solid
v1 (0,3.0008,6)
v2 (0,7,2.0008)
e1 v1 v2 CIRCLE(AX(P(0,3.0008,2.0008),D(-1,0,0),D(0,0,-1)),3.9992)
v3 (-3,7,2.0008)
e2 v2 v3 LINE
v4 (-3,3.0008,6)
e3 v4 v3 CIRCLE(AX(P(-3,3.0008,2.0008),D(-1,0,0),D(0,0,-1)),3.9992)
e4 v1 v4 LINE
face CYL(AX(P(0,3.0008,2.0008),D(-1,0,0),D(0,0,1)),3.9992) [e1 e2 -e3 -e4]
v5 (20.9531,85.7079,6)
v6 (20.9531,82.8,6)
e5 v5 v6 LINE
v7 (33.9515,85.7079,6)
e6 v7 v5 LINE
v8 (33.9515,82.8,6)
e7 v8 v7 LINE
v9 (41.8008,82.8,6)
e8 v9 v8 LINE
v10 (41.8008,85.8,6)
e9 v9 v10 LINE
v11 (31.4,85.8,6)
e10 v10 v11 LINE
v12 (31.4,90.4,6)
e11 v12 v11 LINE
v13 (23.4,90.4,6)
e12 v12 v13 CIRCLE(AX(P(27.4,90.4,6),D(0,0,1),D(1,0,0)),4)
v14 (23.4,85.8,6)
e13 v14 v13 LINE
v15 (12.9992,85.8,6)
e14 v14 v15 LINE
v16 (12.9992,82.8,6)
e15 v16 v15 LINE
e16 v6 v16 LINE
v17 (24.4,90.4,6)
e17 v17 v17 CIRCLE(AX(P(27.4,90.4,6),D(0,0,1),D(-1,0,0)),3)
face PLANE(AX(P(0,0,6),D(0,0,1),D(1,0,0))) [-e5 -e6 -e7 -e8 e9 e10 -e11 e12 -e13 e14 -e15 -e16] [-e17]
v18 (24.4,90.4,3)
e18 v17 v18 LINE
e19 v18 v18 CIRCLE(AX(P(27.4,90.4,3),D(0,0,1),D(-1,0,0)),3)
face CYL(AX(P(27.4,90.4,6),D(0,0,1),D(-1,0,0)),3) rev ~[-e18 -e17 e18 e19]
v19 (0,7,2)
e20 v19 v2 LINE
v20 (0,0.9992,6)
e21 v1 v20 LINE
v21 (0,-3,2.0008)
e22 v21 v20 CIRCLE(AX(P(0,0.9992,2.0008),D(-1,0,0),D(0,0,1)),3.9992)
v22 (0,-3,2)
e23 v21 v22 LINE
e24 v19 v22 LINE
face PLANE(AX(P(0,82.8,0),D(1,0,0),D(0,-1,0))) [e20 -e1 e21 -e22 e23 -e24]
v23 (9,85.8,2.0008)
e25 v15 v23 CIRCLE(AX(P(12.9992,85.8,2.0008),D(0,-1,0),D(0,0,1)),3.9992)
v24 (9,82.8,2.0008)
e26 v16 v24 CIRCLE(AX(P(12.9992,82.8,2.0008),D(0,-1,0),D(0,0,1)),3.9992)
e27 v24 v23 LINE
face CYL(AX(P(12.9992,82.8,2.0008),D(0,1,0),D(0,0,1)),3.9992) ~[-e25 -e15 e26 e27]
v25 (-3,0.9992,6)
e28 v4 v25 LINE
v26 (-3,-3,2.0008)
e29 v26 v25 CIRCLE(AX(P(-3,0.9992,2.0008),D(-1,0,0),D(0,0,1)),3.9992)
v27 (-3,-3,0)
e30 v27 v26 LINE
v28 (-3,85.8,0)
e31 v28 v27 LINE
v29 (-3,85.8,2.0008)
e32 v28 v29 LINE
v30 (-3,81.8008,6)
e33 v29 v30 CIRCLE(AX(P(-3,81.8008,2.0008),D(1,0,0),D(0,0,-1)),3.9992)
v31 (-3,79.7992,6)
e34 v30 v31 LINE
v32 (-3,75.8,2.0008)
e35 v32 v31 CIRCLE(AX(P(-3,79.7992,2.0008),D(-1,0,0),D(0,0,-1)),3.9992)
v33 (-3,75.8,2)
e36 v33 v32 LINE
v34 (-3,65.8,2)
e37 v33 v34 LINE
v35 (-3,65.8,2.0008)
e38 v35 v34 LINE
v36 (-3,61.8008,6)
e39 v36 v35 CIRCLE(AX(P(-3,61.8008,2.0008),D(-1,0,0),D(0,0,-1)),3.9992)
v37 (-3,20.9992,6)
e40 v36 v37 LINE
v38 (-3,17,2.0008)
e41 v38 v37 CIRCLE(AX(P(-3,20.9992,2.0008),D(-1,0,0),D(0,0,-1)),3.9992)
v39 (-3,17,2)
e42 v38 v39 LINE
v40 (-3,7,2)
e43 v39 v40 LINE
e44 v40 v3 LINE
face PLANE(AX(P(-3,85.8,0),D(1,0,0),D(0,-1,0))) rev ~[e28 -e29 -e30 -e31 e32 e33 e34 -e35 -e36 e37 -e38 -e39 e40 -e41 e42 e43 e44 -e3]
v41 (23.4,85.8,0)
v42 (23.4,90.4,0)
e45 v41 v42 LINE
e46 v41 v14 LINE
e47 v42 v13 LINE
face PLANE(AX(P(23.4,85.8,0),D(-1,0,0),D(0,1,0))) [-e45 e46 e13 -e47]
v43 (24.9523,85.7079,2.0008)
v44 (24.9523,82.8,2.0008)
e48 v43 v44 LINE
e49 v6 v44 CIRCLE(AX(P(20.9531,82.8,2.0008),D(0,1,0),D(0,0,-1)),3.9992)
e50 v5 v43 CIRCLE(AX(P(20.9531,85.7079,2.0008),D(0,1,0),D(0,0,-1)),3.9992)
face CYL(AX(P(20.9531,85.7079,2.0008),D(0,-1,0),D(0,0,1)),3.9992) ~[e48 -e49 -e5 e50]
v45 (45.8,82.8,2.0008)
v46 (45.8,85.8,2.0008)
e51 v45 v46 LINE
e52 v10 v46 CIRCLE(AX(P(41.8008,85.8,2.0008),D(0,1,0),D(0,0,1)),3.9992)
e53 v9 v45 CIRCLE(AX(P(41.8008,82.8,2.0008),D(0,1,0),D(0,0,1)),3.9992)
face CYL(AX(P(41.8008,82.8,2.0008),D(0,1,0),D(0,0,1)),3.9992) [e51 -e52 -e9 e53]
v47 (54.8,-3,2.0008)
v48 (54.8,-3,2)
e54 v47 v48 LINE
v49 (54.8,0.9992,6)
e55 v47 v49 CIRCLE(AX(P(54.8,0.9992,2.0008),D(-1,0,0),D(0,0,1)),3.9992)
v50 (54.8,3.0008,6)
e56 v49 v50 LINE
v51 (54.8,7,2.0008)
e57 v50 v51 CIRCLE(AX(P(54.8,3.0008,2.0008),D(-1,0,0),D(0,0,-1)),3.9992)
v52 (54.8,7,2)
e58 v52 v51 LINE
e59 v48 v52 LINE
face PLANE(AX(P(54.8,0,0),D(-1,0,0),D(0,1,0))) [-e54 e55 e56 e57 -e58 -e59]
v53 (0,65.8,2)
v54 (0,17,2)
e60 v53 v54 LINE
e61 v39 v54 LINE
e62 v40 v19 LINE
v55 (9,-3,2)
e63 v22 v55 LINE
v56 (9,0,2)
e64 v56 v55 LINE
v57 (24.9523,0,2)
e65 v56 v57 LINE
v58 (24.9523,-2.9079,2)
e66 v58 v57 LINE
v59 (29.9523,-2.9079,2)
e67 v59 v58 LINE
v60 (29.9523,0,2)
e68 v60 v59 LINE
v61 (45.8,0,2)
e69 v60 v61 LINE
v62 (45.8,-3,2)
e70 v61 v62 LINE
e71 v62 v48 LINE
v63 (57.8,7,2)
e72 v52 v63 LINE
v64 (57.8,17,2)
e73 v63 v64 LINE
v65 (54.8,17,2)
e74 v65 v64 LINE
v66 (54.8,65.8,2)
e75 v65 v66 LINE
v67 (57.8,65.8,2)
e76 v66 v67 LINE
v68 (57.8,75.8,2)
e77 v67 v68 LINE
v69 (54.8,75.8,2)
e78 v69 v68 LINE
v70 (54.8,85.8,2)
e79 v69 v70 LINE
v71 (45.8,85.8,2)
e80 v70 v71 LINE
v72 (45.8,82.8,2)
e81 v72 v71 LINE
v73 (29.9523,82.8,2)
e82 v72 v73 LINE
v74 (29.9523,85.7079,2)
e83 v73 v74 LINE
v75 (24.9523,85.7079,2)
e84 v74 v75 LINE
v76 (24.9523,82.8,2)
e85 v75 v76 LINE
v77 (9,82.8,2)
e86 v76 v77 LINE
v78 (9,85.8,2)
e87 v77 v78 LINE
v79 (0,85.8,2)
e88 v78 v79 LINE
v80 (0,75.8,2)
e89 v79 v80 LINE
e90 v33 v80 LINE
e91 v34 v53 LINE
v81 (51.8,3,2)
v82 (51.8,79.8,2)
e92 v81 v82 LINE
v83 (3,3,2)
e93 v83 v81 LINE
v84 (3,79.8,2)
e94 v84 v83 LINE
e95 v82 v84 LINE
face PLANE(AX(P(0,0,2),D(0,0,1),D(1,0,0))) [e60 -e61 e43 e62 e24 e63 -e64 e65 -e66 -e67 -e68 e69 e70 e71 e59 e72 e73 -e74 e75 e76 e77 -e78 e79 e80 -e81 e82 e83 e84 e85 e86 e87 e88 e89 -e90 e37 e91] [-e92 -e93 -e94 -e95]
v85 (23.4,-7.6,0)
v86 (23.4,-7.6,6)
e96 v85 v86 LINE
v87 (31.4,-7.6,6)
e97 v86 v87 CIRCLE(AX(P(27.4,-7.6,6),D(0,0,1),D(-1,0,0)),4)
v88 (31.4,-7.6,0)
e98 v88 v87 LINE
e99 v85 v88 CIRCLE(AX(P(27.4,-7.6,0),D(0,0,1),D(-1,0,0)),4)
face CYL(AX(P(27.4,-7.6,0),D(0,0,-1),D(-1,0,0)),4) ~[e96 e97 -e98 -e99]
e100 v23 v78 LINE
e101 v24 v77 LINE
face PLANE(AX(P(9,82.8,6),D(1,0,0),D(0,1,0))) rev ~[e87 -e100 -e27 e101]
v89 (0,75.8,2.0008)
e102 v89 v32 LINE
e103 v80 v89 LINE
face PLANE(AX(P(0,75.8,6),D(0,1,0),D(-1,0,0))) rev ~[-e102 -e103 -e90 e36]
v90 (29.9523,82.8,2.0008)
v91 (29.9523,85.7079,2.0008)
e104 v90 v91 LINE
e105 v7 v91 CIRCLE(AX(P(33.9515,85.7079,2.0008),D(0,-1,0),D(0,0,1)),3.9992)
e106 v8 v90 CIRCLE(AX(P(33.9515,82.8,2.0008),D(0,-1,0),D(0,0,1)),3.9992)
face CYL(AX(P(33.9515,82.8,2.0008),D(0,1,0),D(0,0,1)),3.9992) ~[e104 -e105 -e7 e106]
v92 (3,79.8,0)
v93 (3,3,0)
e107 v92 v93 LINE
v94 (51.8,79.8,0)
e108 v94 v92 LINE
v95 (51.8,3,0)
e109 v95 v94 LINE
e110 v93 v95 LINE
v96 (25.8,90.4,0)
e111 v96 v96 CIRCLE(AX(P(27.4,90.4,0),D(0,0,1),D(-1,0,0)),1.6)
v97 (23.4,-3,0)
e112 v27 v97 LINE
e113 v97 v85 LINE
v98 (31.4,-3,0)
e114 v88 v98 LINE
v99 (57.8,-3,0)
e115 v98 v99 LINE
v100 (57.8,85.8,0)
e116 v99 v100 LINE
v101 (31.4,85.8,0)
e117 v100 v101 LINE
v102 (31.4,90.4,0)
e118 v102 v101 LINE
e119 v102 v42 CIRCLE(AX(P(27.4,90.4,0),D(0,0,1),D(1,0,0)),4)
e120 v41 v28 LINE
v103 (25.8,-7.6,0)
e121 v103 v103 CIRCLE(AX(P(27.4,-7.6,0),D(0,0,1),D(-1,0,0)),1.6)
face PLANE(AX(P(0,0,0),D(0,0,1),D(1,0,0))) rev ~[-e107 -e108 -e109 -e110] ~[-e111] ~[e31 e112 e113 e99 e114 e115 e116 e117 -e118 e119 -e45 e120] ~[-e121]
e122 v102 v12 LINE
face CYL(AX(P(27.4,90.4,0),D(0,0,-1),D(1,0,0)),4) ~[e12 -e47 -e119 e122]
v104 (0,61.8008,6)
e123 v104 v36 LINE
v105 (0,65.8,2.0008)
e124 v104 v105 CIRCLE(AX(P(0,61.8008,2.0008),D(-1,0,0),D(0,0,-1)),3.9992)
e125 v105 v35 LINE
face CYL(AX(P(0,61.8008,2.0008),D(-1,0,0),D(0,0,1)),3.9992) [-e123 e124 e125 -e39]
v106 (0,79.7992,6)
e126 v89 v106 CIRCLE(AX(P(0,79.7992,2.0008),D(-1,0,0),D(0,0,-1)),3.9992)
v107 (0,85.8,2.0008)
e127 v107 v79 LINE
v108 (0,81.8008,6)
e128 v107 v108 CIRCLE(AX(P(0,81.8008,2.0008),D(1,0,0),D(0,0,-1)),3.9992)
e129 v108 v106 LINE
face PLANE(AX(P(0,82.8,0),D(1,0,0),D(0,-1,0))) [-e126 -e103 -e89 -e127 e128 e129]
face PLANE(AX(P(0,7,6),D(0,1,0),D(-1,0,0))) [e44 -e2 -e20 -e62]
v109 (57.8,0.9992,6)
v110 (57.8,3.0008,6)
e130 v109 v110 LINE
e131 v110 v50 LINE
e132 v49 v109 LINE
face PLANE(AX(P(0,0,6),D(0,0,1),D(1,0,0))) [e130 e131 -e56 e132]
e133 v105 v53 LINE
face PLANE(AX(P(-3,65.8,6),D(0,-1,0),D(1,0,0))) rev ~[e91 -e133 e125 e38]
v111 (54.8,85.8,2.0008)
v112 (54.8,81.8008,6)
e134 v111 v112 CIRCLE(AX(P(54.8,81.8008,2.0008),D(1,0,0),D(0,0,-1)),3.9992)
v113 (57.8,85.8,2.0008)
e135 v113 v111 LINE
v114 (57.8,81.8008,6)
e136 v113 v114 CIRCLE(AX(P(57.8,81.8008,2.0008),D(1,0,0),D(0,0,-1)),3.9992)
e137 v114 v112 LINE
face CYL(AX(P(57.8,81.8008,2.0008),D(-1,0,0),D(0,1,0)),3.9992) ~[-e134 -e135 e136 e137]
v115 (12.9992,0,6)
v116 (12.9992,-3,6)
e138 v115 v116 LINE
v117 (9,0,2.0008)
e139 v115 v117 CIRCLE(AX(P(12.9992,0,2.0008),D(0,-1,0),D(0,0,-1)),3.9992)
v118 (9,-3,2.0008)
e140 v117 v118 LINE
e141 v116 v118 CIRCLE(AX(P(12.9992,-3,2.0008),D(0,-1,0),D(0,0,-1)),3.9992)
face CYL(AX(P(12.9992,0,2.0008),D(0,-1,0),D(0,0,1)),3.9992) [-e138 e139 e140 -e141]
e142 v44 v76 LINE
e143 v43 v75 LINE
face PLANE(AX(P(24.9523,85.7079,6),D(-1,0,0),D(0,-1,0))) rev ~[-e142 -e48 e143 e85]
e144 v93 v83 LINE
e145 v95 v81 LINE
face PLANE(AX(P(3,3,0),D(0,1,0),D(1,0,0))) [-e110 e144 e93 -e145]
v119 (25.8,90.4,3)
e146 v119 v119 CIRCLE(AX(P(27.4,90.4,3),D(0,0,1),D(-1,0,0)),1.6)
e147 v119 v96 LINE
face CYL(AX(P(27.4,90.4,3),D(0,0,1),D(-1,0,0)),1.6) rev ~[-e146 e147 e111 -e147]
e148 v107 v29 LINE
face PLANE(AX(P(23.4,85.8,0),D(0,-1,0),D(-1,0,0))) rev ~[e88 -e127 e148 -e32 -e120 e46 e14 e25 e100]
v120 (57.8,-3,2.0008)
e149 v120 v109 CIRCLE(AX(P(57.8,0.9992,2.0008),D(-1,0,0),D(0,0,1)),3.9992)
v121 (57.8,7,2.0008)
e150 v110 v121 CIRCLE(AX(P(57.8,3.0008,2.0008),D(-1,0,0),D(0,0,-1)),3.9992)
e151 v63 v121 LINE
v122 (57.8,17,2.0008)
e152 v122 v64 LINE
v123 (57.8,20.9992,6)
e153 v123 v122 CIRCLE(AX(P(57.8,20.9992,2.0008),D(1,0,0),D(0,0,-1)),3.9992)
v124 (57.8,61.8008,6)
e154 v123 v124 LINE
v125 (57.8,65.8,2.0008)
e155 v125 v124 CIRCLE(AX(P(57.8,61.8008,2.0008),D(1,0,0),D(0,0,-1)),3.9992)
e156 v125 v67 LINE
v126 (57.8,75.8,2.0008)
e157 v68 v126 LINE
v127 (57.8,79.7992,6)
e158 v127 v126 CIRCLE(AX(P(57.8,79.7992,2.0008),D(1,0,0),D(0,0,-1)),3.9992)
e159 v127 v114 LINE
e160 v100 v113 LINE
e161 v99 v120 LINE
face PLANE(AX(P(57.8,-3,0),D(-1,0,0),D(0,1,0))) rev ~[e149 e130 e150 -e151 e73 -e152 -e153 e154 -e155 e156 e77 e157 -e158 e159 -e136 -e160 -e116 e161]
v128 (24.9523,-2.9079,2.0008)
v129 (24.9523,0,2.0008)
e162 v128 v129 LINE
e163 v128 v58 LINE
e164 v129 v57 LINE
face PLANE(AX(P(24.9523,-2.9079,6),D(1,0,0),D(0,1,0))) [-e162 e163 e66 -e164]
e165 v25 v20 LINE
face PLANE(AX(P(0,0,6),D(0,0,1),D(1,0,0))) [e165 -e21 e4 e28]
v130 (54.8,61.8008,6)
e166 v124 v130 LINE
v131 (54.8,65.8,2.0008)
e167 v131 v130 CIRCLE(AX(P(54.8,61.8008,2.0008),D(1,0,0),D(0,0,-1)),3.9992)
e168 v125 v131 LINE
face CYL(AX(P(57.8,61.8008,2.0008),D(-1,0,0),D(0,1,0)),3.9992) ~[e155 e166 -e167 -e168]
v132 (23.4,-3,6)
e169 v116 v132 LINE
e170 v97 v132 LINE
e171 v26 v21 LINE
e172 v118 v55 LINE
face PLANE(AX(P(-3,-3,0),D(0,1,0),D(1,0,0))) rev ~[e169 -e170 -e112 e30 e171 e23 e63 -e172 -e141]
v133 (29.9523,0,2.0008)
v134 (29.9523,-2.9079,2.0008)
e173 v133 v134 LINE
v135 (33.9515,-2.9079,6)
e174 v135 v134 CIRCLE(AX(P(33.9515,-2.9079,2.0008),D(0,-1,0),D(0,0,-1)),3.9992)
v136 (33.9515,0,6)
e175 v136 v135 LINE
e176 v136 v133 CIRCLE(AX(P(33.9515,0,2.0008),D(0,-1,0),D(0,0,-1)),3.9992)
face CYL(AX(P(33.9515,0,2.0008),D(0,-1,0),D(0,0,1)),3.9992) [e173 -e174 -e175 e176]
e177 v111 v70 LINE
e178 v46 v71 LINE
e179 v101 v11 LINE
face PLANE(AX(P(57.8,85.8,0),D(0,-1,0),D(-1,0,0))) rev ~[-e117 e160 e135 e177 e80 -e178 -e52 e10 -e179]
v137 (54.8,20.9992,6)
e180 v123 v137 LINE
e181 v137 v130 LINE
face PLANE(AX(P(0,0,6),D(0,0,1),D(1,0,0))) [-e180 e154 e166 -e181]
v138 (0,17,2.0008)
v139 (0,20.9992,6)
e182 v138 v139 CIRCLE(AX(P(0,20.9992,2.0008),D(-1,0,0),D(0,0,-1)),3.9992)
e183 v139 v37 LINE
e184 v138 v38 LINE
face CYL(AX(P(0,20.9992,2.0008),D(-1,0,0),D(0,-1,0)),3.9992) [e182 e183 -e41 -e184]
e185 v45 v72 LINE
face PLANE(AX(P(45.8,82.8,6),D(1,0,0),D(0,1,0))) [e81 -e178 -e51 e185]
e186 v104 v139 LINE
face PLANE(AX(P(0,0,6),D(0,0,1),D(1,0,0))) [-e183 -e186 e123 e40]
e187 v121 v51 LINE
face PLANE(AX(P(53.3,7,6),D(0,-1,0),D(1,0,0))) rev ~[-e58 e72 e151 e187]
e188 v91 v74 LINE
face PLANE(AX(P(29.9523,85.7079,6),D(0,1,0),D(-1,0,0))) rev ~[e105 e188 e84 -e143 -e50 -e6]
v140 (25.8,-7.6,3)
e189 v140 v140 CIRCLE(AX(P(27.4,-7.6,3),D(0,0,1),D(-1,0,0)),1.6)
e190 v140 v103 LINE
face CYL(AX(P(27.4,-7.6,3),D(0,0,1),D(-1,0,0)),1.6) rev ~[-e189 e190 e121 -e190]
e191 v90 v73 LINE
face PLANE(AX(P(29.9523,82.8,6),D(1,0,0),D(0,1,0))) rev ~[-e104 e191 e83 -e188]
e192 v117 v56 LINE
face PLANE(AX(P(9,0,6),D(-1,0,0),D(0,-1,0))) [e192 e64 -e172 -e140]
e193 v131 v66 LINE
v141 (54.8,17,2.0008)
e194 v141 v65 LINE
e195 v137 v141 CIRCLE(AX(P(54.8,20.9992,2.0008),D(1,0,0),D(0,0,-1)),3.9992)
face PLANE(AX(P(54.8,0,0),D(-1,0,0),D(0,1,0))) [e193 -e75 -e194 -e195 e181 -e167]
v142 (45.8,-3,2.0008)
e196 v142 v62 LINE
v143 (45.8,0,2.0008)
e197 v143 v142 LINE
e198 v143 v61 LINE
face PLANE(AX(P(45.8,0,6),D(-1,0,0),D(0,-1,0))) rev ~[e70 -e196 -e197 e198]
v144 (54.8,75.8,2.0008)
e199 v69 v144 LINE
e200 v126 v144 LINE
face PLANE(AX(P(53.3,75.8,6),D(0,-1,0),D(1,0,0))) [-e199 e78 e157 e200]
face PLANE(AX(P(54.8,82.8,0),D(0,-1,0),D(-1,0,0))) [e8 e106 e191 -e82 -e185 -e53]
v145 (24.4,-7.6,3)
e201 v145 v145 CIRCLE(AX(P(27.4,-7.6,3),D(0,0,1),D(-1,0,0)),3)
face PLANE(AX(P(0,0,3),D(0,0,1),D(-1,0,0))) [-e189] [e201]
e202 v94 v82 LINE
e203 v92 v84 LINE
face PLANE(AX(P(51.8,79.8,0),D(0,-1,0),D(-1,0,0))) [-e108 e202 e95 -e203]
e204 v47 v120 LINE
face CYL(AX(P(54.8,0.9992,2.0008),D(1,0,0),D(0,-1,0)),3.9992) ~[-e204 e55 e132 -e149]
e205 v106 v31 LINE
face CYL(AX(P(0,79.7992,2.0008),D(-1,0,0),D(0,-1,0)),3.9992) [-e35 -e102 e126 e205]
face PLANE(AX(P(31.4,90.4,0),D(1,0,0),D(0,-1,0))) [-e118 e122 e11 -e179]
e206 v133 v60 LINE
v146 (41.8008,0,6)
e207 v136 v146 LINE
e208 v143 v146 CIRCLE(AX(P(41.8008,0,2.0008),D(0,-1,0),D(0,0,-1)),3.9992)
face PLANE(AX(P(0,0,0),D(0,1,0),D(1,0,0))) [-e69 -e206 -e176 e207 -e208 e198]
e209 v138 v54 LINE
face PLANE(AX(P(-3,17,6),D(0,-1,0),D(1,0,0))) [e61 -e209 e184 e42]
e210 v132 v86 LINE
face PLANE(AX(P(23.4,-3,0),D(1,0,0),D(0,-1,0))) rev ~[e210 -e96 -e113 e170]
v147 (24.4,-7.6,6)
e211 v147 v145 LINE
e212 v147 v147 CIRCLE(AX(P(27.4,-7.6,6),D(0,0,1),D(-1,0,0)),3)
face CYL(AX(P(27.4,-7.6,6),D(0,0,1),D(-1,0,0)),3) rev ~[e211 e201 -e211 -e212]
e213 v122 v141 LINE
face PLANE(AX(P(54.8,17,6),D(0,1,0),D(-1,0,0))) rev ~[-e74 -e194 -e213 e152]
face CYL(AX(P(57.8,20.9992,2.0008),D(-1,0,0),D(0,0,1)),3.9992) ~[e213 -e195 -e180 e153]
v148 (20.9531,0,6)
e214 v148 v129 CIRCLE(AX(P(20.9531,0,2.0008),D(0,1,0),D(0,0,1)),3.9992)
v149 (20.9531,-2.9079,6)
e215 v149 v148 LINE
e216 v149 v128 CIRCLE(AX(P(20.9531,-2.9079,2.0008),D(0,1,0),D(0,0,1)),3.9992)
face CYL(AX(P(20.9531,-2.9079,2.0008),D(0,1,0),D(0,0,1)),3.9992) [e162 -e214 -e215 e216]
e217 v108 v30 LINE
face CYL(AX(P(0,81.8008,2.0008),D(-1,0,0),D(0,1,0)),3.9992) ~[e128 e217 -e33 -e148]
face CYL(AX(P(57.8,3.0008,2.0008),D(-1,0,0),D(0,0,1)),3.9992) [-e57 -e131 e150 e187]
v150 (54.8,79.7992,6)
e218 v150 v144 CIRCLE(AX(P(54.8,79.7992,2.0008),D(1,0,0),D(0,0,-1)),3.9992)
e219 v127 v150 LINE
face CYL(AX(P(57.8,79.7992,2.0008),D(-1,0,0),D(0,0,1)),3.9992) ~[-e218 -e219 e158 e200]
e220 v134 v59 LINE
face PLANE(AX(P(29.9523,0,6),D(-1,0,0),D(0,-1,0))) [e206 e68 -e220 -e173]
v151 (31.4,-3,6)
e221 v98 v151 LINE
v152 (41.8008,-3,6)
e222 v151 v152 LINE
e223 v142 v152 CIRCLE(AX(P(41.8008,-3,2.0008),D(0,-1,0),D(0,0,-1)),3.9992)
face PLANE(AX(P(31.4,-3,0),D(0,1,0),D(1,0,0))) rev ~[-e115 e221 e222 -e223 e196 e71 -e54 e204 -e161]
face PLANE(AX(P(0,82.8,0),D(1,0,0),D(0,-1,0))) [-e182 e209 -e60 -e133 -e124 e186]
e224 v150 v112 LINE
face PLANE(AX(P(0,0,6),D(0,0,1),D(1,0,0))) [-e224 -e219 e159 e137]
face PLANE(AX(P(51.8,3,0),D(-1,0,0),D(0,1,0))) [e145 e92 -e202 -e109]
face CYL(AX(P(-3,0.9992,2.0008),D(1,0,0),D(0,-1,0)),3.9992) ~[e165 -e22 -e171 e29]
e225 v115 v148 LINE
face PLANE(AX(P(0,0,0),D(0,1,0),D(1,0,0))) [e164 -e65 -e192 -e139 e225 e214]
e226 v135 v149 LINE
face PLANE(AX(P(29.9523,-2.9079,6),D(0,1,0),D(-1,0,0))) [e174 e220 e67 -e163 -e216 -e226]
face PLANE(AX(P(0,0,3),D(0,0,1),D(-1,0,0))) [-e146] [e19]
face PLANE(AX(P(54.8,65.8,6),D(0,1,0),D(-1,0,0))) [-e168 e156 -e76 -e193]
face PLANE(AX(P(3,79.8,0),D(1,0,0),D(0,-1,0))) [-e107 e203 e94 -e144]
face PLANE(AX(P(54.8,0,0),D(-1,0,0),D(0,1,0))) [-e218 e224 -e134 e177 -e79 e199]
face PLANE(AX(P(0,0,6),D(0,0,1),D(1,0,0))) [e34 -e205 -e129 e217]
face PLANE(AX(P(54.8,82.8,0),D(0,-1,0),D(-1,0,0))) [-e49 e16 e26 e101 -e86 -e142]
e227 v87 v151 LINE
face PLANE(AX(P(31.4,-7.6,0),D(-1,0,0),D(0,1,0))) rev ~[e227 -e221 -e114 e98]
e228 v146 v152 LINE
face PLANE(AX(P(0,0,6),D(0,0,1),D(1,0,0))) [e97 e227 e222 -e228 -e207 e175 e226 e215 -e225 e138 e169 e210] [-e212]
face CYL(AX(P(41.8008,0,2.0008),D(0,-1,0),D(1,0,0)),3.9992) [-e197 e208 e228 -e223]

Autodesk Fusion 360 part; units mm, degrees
sketch "Sketch4" plane through (0, 0, 0) normal (0, 0, 1) x (1, 0, 0)
  line L0 (0, 0) -> (54.8, 0)
  line L1 (54.8, 0) -> (54.8, 82.8)
  line L2 (54.8, 82.8) -> (0, 82.8)
  line L3 (0, 82.8) -> (0, 0)
  line L4 (57.8, -3) -> (57.8, 85.8)
  line L5 (-3, 85.8) -> (-3, -3)
  line L6 (0, 41.4) -> (54.8, 41.4) construction
  line L7 (27.4, 0) -> (27.4, 1.8094) construction
  line L8 (27.4, 1.8094) -> (27.4, 82.8) construction
  line L9 (23.4, 85.8) -> (23.4, 90.4)
  line L10 (31.4, 90.4) -> (31.4, 85.8)
  line L11 (23.4, -3) -> (23.4, -7.6)
  line L12 (31.4, -7.6) -> (31.4, -3)
  arc A0 (31.4, 90.4) -> (23.4, 90.4) centre (27.4, 90.4) ccw
  arc A1 (23.4, -7.6) -> (31.4, -7.6) centre (27.4, -7.6) ccw
  line L13 (-3, -3) -> (23.4, -3)
  line L14 (31.4, -3) -> (57.8, -3)
  line L15 (57.8, 85.8) -> (31.4, 85.8)
  line L16 (23.4, 85.8) -> (-3, 85.8)
  line L17 (3, 3) -> (51.8, 3)
  line L18 (51.8, 3) -> (51.8, 79.8)
  line L19 (51.8, 79.8) -> (3, 79.8)
  line L20 (3, 79.8) -> (3, 3)
  point P0 (27.4, 90.4)
  point P1 (27.4, -7.6)
  dimension "d22" = 54.8
  dimension "d23" = 82.8
  dimension "d25" = 8
  dimension "d26" = 49
  dimension "d27" = 49
  dimension "d30" = -3
extrude "Extrude5" add sketch "Sketch4" along normal blind 2 contours L0 L1 L2 L3
extrude "Extrude6" add sketch "Sketch4" along normal blind 6 contours L4 L5 L9 L10 L11 L12 A0 A1 L13 L14 L15 L16
sketch "Sketch5" plane through (0, 0, 6) normal (0, 0, 1) x (-1, 0, 0)
  line L0 (0, 0) -> (0, -82.8)
  line L1 (0, -82.8) -> (-54.8, -82.8)
  line L2 (-54.8, -82.8) -> (-54.8, 0)
  line L3 (-54.8, 0) -> (0, 0)
  arc A0 (-31.4, -90.4) -> (-23.4, -90.4) centre (-27.4, -90.4) ccw
  line L4 (-23.4, -90.4) -> (-23.4, -85.8)
  line L5 (-23.4, -85.8) -> (3, -85.8)
  line L6 (3, -85.8) -> (3, 3)
  line L7 (3, 3) -> (-23.4, 3)
  line L8 (-23.4, 3) -> (-23.4, 7.6)
  arc A1 (-23.4, 7.6) -> (-31.4, 7.6) centre (-27.4, 7.6) ccw
  line L9 (-31.4, 7.6) -> (-31.4, 3)
  line L10 (-31.4, 3) -> (-57.8, 3)
  line L11 (-57.8, 3) -> (-57.8, -85.8)
  line L12 (-57.8, -85.8) -> (-31.4, -85.8)
  line L13 (-31.4, -85.8) -> (-31.4, -90.4)
  circle A2 centre (-27.4, -90.4) radius 3
  circle A3 centre (-27.4, 7.6) radius 3
  dimension "d35" = 6
extrude "Extrude7" cut sketch "Sketch5" against normal blind 3 contours A2 | A3
sketch "Sketch6" plane through (0, 0, 3) normal (0, 0, 1) x (-1, 0, 0)
  circle A0 centre (-27.4, -90.4) radius 3
  circle A1 centre (-27.4, -90.4) radius 1.6
  circle A2 centre (-27.4, 7.6) radius 1.6
  dimension "d38" = 3.2
  dimension "d39" = 3.2
extrude "Extrude8" cut sketch "Sketch6" against normal blind 4 contours A1 | A2
sketch "Sketch7" plane through (0, 0, 6) normal (0, 0, 1) x (-1, 0, 0)
  circle A0 centre (-27.4, -90.4) radius 3
  circle A1 centre (-27.4, 7.6) radius 3
  line L0 (0, 0) -> (0, -82.8)
  line L1 (0, -82.8) -> (-54.8, -82.8)
  line L2 (-54.8, -82.8) -> (-54.8, 0)
  line L3 (-54.8, 0) -> (0, 0)
  arc A2 (-31.4, -90.4) -> (-23.4, -90.4) centre (-27.4, -90.4) ccw
  line L4 (-23.4, -90.4) -> (-23.4, -85.8)
  line L5 (-23.4, -85.8) -> (3, -85.8)
  line L6 (3, -85.8) -> (3, 3)
  line L7 (3, 3) -> (-23.4, 3)
  line L8 (-23.4, 3) -> (-23.4, 7.6)
  arc A3 (-23.4, 7.6) -> (-31.4, 7.6) centre (-27.4, 7.6) ccw
  line L9 (-31.4, 7.6) -> (-31.4, 3)
  line L10 (-31.4, 3) -> (-57.8, 3)
  line L11 (-57.8, 3) -> (-57.8, -85.8)
  line L12 (-57.8, -85.8) -> (-31.4, -85.8)
  line L13 (-31.4, -85.8) -> (-31.4, -90.4)
  line L14 (4.5, -17) -> (-1.5, -17)
  line L15 (-1.5, -17) -> (-1.5, -7)
  line L16 (-1.5, -7) -> (4.5, -7)
  line L17 (4.5, -7) -> (4.5, -17)
  line L18 (4.5, -17) -> (-1.5, -7) construction
  line L19 (-1.5, -17) -> (4.5, -7) construction
  line L20 (3, -41.4) -> (-57.8, -41.4) construction
  line L21 (-27.4, 0) -> (-27.4, -82.8) construction
  line L22 (-1.5, -75.8) -> (4.5, -75.8)
  line L23 (4.5, -75.8) -> (4.5, -65.8)
  line L24 (-1.5, -65.8) -> (-1.5, -75.8)
  line L25 (4.5, -65.8) -> (-1.5, -65.8)
  line L26 (0, 0) -> (-9, 0)
  line L27 (-9, 0) -> (-9, 3)
  line L28 (-9, 3) -> (0, 3)
  line L29 (0, 3) -> (0, 0)
  line L30 (-54.8, 0) -> (-45.8, 0)
  line L31 (-45.8, 3) -> (-54.8, 3)
  line L32 (-54.8, 3) -> (-54.8, 0)
  line L33 (-45.8, 0) -> (-45.8, 3)
  line L34 (-29.9523, 2.9079) -> (-24.9523, 2.9079)
  line L35 (-24.9523, 2.9079) -> (-24.9523, -0.0921)
  line L36 (-24.9523, -0.0921) -> (-29.9523, -0.0921)
  line L37 (-29.9523, -0.0921) -> (-29.9523, 2.9079)
  line L38 (-29.9523, 2.9079) -> (-24.9523, -0.0921) construction
  line L39 (-24.9523, 2.9079) -> (-29.9523, -0.0921) construction
  line L40 (-24.9523, -82.7079) -> (-29.9523, -82.7079)
  line L41 (-24.9523, -85.7079) -> (-24.9523, -82.7079)
  line L42 (-29.9523, -85.7079) -> (-24.9523, -85.7079)
  line L43 (-29.9523, -82.7079) -> (-29.9523, -85.7079)
  line L44 (0, -82.8) -> (-9, -82.8)
  line L45 (-9, -82.8) -> (-9, -85.8)
  line L46 (-9, -85.8) -> (0, -85.8)
  line L47 (0, -85.8) -> (0, -82.8)
  line L48 (-45.8, -82.8) -> (-45.8, -85.8)
  line L49 (-45.8, -85.8) -> (-54.8, -85.8)
  line L50 (-54.8, -85.8) -> (-54.8, -82.8)
  line L51 (-54.8, -82.8) -> (-45.8, -82.8)
  line L52 (-59.3, -65.8) -> (-53.3, -65.8)
  line L53 (-53.3, -65.8) -> (-53.3, -75.8)
  line L54 (-53.3, -75.8) -> (-59.3, -75.8)
  line L55 (-59.3, -75.8) -> (-59.3, -65.8)
  line L56 (-53.3, -17) -> (-53.3, -7)
  line L57 (-53.3, -7) -> (-59.3, -7)
  line L58 (-59.3, -7) -> (-59.3, -17)
  line L59 (-59.3, -17) -> (-53.3, -17)
  point P0 (1.5, -12)
  point P1 (-27.4523, 1.4079)
  dimension "d42" = 10
  dimension "d43" = 12
  dimension "d44" = 9
  dimension "d45" = 5
  dimension "d46" = 3
extrude "Extrude9" cut sketch "Sketch7" against normal blind 4 contours L3 L7 L26 L27 L28 L29 | L0 L6 L14 L16 | L0 L14 L15 L16 | L6 L14 L16 L17 | L3 L34 L35 L37 | L0 L6 L22 L25 | L0 L22 L24 L25 | L6 L22 L23 L25 | L3 L10 L30 L31 L32 L33 | L1 L5 L44 L45 L46 L47 | L2 L56 L57 L59 | L2 L11 L57 L59 | L1 L41 L42 L43 | L11 L57 L58 L59 | L2 L52 L53 L54 | L2 L11 L52 L54 | L1 L12 L48 L49 L50 L51 | L11 L52 L54 L55
fillet "Empalme4" radius 4 20 edges at (56.3, 17, 6) (56.3, 7, 6) (56.3, -3, 6) (45.8, -1.5, 6) (29.9523, -1.454, 6) (24.9523, -1.454, 6) (9, -1.5, 6) (-1.5, -3, 6) (-1.5, 7, 6) (-1.5, 17, 6) (56.3, 65.8, 6) (56.3, 75.8, 6) (56.3, 85.8, 6) (45.8, 84.3, 6) (29.9523, 84.254, 6) (24.9523, 84.254, 6) (-1.5, 75.8, 6) (-1.5, 65.8, 6) (-1.5, 85.8, 6) (9, 84.3, 6)
